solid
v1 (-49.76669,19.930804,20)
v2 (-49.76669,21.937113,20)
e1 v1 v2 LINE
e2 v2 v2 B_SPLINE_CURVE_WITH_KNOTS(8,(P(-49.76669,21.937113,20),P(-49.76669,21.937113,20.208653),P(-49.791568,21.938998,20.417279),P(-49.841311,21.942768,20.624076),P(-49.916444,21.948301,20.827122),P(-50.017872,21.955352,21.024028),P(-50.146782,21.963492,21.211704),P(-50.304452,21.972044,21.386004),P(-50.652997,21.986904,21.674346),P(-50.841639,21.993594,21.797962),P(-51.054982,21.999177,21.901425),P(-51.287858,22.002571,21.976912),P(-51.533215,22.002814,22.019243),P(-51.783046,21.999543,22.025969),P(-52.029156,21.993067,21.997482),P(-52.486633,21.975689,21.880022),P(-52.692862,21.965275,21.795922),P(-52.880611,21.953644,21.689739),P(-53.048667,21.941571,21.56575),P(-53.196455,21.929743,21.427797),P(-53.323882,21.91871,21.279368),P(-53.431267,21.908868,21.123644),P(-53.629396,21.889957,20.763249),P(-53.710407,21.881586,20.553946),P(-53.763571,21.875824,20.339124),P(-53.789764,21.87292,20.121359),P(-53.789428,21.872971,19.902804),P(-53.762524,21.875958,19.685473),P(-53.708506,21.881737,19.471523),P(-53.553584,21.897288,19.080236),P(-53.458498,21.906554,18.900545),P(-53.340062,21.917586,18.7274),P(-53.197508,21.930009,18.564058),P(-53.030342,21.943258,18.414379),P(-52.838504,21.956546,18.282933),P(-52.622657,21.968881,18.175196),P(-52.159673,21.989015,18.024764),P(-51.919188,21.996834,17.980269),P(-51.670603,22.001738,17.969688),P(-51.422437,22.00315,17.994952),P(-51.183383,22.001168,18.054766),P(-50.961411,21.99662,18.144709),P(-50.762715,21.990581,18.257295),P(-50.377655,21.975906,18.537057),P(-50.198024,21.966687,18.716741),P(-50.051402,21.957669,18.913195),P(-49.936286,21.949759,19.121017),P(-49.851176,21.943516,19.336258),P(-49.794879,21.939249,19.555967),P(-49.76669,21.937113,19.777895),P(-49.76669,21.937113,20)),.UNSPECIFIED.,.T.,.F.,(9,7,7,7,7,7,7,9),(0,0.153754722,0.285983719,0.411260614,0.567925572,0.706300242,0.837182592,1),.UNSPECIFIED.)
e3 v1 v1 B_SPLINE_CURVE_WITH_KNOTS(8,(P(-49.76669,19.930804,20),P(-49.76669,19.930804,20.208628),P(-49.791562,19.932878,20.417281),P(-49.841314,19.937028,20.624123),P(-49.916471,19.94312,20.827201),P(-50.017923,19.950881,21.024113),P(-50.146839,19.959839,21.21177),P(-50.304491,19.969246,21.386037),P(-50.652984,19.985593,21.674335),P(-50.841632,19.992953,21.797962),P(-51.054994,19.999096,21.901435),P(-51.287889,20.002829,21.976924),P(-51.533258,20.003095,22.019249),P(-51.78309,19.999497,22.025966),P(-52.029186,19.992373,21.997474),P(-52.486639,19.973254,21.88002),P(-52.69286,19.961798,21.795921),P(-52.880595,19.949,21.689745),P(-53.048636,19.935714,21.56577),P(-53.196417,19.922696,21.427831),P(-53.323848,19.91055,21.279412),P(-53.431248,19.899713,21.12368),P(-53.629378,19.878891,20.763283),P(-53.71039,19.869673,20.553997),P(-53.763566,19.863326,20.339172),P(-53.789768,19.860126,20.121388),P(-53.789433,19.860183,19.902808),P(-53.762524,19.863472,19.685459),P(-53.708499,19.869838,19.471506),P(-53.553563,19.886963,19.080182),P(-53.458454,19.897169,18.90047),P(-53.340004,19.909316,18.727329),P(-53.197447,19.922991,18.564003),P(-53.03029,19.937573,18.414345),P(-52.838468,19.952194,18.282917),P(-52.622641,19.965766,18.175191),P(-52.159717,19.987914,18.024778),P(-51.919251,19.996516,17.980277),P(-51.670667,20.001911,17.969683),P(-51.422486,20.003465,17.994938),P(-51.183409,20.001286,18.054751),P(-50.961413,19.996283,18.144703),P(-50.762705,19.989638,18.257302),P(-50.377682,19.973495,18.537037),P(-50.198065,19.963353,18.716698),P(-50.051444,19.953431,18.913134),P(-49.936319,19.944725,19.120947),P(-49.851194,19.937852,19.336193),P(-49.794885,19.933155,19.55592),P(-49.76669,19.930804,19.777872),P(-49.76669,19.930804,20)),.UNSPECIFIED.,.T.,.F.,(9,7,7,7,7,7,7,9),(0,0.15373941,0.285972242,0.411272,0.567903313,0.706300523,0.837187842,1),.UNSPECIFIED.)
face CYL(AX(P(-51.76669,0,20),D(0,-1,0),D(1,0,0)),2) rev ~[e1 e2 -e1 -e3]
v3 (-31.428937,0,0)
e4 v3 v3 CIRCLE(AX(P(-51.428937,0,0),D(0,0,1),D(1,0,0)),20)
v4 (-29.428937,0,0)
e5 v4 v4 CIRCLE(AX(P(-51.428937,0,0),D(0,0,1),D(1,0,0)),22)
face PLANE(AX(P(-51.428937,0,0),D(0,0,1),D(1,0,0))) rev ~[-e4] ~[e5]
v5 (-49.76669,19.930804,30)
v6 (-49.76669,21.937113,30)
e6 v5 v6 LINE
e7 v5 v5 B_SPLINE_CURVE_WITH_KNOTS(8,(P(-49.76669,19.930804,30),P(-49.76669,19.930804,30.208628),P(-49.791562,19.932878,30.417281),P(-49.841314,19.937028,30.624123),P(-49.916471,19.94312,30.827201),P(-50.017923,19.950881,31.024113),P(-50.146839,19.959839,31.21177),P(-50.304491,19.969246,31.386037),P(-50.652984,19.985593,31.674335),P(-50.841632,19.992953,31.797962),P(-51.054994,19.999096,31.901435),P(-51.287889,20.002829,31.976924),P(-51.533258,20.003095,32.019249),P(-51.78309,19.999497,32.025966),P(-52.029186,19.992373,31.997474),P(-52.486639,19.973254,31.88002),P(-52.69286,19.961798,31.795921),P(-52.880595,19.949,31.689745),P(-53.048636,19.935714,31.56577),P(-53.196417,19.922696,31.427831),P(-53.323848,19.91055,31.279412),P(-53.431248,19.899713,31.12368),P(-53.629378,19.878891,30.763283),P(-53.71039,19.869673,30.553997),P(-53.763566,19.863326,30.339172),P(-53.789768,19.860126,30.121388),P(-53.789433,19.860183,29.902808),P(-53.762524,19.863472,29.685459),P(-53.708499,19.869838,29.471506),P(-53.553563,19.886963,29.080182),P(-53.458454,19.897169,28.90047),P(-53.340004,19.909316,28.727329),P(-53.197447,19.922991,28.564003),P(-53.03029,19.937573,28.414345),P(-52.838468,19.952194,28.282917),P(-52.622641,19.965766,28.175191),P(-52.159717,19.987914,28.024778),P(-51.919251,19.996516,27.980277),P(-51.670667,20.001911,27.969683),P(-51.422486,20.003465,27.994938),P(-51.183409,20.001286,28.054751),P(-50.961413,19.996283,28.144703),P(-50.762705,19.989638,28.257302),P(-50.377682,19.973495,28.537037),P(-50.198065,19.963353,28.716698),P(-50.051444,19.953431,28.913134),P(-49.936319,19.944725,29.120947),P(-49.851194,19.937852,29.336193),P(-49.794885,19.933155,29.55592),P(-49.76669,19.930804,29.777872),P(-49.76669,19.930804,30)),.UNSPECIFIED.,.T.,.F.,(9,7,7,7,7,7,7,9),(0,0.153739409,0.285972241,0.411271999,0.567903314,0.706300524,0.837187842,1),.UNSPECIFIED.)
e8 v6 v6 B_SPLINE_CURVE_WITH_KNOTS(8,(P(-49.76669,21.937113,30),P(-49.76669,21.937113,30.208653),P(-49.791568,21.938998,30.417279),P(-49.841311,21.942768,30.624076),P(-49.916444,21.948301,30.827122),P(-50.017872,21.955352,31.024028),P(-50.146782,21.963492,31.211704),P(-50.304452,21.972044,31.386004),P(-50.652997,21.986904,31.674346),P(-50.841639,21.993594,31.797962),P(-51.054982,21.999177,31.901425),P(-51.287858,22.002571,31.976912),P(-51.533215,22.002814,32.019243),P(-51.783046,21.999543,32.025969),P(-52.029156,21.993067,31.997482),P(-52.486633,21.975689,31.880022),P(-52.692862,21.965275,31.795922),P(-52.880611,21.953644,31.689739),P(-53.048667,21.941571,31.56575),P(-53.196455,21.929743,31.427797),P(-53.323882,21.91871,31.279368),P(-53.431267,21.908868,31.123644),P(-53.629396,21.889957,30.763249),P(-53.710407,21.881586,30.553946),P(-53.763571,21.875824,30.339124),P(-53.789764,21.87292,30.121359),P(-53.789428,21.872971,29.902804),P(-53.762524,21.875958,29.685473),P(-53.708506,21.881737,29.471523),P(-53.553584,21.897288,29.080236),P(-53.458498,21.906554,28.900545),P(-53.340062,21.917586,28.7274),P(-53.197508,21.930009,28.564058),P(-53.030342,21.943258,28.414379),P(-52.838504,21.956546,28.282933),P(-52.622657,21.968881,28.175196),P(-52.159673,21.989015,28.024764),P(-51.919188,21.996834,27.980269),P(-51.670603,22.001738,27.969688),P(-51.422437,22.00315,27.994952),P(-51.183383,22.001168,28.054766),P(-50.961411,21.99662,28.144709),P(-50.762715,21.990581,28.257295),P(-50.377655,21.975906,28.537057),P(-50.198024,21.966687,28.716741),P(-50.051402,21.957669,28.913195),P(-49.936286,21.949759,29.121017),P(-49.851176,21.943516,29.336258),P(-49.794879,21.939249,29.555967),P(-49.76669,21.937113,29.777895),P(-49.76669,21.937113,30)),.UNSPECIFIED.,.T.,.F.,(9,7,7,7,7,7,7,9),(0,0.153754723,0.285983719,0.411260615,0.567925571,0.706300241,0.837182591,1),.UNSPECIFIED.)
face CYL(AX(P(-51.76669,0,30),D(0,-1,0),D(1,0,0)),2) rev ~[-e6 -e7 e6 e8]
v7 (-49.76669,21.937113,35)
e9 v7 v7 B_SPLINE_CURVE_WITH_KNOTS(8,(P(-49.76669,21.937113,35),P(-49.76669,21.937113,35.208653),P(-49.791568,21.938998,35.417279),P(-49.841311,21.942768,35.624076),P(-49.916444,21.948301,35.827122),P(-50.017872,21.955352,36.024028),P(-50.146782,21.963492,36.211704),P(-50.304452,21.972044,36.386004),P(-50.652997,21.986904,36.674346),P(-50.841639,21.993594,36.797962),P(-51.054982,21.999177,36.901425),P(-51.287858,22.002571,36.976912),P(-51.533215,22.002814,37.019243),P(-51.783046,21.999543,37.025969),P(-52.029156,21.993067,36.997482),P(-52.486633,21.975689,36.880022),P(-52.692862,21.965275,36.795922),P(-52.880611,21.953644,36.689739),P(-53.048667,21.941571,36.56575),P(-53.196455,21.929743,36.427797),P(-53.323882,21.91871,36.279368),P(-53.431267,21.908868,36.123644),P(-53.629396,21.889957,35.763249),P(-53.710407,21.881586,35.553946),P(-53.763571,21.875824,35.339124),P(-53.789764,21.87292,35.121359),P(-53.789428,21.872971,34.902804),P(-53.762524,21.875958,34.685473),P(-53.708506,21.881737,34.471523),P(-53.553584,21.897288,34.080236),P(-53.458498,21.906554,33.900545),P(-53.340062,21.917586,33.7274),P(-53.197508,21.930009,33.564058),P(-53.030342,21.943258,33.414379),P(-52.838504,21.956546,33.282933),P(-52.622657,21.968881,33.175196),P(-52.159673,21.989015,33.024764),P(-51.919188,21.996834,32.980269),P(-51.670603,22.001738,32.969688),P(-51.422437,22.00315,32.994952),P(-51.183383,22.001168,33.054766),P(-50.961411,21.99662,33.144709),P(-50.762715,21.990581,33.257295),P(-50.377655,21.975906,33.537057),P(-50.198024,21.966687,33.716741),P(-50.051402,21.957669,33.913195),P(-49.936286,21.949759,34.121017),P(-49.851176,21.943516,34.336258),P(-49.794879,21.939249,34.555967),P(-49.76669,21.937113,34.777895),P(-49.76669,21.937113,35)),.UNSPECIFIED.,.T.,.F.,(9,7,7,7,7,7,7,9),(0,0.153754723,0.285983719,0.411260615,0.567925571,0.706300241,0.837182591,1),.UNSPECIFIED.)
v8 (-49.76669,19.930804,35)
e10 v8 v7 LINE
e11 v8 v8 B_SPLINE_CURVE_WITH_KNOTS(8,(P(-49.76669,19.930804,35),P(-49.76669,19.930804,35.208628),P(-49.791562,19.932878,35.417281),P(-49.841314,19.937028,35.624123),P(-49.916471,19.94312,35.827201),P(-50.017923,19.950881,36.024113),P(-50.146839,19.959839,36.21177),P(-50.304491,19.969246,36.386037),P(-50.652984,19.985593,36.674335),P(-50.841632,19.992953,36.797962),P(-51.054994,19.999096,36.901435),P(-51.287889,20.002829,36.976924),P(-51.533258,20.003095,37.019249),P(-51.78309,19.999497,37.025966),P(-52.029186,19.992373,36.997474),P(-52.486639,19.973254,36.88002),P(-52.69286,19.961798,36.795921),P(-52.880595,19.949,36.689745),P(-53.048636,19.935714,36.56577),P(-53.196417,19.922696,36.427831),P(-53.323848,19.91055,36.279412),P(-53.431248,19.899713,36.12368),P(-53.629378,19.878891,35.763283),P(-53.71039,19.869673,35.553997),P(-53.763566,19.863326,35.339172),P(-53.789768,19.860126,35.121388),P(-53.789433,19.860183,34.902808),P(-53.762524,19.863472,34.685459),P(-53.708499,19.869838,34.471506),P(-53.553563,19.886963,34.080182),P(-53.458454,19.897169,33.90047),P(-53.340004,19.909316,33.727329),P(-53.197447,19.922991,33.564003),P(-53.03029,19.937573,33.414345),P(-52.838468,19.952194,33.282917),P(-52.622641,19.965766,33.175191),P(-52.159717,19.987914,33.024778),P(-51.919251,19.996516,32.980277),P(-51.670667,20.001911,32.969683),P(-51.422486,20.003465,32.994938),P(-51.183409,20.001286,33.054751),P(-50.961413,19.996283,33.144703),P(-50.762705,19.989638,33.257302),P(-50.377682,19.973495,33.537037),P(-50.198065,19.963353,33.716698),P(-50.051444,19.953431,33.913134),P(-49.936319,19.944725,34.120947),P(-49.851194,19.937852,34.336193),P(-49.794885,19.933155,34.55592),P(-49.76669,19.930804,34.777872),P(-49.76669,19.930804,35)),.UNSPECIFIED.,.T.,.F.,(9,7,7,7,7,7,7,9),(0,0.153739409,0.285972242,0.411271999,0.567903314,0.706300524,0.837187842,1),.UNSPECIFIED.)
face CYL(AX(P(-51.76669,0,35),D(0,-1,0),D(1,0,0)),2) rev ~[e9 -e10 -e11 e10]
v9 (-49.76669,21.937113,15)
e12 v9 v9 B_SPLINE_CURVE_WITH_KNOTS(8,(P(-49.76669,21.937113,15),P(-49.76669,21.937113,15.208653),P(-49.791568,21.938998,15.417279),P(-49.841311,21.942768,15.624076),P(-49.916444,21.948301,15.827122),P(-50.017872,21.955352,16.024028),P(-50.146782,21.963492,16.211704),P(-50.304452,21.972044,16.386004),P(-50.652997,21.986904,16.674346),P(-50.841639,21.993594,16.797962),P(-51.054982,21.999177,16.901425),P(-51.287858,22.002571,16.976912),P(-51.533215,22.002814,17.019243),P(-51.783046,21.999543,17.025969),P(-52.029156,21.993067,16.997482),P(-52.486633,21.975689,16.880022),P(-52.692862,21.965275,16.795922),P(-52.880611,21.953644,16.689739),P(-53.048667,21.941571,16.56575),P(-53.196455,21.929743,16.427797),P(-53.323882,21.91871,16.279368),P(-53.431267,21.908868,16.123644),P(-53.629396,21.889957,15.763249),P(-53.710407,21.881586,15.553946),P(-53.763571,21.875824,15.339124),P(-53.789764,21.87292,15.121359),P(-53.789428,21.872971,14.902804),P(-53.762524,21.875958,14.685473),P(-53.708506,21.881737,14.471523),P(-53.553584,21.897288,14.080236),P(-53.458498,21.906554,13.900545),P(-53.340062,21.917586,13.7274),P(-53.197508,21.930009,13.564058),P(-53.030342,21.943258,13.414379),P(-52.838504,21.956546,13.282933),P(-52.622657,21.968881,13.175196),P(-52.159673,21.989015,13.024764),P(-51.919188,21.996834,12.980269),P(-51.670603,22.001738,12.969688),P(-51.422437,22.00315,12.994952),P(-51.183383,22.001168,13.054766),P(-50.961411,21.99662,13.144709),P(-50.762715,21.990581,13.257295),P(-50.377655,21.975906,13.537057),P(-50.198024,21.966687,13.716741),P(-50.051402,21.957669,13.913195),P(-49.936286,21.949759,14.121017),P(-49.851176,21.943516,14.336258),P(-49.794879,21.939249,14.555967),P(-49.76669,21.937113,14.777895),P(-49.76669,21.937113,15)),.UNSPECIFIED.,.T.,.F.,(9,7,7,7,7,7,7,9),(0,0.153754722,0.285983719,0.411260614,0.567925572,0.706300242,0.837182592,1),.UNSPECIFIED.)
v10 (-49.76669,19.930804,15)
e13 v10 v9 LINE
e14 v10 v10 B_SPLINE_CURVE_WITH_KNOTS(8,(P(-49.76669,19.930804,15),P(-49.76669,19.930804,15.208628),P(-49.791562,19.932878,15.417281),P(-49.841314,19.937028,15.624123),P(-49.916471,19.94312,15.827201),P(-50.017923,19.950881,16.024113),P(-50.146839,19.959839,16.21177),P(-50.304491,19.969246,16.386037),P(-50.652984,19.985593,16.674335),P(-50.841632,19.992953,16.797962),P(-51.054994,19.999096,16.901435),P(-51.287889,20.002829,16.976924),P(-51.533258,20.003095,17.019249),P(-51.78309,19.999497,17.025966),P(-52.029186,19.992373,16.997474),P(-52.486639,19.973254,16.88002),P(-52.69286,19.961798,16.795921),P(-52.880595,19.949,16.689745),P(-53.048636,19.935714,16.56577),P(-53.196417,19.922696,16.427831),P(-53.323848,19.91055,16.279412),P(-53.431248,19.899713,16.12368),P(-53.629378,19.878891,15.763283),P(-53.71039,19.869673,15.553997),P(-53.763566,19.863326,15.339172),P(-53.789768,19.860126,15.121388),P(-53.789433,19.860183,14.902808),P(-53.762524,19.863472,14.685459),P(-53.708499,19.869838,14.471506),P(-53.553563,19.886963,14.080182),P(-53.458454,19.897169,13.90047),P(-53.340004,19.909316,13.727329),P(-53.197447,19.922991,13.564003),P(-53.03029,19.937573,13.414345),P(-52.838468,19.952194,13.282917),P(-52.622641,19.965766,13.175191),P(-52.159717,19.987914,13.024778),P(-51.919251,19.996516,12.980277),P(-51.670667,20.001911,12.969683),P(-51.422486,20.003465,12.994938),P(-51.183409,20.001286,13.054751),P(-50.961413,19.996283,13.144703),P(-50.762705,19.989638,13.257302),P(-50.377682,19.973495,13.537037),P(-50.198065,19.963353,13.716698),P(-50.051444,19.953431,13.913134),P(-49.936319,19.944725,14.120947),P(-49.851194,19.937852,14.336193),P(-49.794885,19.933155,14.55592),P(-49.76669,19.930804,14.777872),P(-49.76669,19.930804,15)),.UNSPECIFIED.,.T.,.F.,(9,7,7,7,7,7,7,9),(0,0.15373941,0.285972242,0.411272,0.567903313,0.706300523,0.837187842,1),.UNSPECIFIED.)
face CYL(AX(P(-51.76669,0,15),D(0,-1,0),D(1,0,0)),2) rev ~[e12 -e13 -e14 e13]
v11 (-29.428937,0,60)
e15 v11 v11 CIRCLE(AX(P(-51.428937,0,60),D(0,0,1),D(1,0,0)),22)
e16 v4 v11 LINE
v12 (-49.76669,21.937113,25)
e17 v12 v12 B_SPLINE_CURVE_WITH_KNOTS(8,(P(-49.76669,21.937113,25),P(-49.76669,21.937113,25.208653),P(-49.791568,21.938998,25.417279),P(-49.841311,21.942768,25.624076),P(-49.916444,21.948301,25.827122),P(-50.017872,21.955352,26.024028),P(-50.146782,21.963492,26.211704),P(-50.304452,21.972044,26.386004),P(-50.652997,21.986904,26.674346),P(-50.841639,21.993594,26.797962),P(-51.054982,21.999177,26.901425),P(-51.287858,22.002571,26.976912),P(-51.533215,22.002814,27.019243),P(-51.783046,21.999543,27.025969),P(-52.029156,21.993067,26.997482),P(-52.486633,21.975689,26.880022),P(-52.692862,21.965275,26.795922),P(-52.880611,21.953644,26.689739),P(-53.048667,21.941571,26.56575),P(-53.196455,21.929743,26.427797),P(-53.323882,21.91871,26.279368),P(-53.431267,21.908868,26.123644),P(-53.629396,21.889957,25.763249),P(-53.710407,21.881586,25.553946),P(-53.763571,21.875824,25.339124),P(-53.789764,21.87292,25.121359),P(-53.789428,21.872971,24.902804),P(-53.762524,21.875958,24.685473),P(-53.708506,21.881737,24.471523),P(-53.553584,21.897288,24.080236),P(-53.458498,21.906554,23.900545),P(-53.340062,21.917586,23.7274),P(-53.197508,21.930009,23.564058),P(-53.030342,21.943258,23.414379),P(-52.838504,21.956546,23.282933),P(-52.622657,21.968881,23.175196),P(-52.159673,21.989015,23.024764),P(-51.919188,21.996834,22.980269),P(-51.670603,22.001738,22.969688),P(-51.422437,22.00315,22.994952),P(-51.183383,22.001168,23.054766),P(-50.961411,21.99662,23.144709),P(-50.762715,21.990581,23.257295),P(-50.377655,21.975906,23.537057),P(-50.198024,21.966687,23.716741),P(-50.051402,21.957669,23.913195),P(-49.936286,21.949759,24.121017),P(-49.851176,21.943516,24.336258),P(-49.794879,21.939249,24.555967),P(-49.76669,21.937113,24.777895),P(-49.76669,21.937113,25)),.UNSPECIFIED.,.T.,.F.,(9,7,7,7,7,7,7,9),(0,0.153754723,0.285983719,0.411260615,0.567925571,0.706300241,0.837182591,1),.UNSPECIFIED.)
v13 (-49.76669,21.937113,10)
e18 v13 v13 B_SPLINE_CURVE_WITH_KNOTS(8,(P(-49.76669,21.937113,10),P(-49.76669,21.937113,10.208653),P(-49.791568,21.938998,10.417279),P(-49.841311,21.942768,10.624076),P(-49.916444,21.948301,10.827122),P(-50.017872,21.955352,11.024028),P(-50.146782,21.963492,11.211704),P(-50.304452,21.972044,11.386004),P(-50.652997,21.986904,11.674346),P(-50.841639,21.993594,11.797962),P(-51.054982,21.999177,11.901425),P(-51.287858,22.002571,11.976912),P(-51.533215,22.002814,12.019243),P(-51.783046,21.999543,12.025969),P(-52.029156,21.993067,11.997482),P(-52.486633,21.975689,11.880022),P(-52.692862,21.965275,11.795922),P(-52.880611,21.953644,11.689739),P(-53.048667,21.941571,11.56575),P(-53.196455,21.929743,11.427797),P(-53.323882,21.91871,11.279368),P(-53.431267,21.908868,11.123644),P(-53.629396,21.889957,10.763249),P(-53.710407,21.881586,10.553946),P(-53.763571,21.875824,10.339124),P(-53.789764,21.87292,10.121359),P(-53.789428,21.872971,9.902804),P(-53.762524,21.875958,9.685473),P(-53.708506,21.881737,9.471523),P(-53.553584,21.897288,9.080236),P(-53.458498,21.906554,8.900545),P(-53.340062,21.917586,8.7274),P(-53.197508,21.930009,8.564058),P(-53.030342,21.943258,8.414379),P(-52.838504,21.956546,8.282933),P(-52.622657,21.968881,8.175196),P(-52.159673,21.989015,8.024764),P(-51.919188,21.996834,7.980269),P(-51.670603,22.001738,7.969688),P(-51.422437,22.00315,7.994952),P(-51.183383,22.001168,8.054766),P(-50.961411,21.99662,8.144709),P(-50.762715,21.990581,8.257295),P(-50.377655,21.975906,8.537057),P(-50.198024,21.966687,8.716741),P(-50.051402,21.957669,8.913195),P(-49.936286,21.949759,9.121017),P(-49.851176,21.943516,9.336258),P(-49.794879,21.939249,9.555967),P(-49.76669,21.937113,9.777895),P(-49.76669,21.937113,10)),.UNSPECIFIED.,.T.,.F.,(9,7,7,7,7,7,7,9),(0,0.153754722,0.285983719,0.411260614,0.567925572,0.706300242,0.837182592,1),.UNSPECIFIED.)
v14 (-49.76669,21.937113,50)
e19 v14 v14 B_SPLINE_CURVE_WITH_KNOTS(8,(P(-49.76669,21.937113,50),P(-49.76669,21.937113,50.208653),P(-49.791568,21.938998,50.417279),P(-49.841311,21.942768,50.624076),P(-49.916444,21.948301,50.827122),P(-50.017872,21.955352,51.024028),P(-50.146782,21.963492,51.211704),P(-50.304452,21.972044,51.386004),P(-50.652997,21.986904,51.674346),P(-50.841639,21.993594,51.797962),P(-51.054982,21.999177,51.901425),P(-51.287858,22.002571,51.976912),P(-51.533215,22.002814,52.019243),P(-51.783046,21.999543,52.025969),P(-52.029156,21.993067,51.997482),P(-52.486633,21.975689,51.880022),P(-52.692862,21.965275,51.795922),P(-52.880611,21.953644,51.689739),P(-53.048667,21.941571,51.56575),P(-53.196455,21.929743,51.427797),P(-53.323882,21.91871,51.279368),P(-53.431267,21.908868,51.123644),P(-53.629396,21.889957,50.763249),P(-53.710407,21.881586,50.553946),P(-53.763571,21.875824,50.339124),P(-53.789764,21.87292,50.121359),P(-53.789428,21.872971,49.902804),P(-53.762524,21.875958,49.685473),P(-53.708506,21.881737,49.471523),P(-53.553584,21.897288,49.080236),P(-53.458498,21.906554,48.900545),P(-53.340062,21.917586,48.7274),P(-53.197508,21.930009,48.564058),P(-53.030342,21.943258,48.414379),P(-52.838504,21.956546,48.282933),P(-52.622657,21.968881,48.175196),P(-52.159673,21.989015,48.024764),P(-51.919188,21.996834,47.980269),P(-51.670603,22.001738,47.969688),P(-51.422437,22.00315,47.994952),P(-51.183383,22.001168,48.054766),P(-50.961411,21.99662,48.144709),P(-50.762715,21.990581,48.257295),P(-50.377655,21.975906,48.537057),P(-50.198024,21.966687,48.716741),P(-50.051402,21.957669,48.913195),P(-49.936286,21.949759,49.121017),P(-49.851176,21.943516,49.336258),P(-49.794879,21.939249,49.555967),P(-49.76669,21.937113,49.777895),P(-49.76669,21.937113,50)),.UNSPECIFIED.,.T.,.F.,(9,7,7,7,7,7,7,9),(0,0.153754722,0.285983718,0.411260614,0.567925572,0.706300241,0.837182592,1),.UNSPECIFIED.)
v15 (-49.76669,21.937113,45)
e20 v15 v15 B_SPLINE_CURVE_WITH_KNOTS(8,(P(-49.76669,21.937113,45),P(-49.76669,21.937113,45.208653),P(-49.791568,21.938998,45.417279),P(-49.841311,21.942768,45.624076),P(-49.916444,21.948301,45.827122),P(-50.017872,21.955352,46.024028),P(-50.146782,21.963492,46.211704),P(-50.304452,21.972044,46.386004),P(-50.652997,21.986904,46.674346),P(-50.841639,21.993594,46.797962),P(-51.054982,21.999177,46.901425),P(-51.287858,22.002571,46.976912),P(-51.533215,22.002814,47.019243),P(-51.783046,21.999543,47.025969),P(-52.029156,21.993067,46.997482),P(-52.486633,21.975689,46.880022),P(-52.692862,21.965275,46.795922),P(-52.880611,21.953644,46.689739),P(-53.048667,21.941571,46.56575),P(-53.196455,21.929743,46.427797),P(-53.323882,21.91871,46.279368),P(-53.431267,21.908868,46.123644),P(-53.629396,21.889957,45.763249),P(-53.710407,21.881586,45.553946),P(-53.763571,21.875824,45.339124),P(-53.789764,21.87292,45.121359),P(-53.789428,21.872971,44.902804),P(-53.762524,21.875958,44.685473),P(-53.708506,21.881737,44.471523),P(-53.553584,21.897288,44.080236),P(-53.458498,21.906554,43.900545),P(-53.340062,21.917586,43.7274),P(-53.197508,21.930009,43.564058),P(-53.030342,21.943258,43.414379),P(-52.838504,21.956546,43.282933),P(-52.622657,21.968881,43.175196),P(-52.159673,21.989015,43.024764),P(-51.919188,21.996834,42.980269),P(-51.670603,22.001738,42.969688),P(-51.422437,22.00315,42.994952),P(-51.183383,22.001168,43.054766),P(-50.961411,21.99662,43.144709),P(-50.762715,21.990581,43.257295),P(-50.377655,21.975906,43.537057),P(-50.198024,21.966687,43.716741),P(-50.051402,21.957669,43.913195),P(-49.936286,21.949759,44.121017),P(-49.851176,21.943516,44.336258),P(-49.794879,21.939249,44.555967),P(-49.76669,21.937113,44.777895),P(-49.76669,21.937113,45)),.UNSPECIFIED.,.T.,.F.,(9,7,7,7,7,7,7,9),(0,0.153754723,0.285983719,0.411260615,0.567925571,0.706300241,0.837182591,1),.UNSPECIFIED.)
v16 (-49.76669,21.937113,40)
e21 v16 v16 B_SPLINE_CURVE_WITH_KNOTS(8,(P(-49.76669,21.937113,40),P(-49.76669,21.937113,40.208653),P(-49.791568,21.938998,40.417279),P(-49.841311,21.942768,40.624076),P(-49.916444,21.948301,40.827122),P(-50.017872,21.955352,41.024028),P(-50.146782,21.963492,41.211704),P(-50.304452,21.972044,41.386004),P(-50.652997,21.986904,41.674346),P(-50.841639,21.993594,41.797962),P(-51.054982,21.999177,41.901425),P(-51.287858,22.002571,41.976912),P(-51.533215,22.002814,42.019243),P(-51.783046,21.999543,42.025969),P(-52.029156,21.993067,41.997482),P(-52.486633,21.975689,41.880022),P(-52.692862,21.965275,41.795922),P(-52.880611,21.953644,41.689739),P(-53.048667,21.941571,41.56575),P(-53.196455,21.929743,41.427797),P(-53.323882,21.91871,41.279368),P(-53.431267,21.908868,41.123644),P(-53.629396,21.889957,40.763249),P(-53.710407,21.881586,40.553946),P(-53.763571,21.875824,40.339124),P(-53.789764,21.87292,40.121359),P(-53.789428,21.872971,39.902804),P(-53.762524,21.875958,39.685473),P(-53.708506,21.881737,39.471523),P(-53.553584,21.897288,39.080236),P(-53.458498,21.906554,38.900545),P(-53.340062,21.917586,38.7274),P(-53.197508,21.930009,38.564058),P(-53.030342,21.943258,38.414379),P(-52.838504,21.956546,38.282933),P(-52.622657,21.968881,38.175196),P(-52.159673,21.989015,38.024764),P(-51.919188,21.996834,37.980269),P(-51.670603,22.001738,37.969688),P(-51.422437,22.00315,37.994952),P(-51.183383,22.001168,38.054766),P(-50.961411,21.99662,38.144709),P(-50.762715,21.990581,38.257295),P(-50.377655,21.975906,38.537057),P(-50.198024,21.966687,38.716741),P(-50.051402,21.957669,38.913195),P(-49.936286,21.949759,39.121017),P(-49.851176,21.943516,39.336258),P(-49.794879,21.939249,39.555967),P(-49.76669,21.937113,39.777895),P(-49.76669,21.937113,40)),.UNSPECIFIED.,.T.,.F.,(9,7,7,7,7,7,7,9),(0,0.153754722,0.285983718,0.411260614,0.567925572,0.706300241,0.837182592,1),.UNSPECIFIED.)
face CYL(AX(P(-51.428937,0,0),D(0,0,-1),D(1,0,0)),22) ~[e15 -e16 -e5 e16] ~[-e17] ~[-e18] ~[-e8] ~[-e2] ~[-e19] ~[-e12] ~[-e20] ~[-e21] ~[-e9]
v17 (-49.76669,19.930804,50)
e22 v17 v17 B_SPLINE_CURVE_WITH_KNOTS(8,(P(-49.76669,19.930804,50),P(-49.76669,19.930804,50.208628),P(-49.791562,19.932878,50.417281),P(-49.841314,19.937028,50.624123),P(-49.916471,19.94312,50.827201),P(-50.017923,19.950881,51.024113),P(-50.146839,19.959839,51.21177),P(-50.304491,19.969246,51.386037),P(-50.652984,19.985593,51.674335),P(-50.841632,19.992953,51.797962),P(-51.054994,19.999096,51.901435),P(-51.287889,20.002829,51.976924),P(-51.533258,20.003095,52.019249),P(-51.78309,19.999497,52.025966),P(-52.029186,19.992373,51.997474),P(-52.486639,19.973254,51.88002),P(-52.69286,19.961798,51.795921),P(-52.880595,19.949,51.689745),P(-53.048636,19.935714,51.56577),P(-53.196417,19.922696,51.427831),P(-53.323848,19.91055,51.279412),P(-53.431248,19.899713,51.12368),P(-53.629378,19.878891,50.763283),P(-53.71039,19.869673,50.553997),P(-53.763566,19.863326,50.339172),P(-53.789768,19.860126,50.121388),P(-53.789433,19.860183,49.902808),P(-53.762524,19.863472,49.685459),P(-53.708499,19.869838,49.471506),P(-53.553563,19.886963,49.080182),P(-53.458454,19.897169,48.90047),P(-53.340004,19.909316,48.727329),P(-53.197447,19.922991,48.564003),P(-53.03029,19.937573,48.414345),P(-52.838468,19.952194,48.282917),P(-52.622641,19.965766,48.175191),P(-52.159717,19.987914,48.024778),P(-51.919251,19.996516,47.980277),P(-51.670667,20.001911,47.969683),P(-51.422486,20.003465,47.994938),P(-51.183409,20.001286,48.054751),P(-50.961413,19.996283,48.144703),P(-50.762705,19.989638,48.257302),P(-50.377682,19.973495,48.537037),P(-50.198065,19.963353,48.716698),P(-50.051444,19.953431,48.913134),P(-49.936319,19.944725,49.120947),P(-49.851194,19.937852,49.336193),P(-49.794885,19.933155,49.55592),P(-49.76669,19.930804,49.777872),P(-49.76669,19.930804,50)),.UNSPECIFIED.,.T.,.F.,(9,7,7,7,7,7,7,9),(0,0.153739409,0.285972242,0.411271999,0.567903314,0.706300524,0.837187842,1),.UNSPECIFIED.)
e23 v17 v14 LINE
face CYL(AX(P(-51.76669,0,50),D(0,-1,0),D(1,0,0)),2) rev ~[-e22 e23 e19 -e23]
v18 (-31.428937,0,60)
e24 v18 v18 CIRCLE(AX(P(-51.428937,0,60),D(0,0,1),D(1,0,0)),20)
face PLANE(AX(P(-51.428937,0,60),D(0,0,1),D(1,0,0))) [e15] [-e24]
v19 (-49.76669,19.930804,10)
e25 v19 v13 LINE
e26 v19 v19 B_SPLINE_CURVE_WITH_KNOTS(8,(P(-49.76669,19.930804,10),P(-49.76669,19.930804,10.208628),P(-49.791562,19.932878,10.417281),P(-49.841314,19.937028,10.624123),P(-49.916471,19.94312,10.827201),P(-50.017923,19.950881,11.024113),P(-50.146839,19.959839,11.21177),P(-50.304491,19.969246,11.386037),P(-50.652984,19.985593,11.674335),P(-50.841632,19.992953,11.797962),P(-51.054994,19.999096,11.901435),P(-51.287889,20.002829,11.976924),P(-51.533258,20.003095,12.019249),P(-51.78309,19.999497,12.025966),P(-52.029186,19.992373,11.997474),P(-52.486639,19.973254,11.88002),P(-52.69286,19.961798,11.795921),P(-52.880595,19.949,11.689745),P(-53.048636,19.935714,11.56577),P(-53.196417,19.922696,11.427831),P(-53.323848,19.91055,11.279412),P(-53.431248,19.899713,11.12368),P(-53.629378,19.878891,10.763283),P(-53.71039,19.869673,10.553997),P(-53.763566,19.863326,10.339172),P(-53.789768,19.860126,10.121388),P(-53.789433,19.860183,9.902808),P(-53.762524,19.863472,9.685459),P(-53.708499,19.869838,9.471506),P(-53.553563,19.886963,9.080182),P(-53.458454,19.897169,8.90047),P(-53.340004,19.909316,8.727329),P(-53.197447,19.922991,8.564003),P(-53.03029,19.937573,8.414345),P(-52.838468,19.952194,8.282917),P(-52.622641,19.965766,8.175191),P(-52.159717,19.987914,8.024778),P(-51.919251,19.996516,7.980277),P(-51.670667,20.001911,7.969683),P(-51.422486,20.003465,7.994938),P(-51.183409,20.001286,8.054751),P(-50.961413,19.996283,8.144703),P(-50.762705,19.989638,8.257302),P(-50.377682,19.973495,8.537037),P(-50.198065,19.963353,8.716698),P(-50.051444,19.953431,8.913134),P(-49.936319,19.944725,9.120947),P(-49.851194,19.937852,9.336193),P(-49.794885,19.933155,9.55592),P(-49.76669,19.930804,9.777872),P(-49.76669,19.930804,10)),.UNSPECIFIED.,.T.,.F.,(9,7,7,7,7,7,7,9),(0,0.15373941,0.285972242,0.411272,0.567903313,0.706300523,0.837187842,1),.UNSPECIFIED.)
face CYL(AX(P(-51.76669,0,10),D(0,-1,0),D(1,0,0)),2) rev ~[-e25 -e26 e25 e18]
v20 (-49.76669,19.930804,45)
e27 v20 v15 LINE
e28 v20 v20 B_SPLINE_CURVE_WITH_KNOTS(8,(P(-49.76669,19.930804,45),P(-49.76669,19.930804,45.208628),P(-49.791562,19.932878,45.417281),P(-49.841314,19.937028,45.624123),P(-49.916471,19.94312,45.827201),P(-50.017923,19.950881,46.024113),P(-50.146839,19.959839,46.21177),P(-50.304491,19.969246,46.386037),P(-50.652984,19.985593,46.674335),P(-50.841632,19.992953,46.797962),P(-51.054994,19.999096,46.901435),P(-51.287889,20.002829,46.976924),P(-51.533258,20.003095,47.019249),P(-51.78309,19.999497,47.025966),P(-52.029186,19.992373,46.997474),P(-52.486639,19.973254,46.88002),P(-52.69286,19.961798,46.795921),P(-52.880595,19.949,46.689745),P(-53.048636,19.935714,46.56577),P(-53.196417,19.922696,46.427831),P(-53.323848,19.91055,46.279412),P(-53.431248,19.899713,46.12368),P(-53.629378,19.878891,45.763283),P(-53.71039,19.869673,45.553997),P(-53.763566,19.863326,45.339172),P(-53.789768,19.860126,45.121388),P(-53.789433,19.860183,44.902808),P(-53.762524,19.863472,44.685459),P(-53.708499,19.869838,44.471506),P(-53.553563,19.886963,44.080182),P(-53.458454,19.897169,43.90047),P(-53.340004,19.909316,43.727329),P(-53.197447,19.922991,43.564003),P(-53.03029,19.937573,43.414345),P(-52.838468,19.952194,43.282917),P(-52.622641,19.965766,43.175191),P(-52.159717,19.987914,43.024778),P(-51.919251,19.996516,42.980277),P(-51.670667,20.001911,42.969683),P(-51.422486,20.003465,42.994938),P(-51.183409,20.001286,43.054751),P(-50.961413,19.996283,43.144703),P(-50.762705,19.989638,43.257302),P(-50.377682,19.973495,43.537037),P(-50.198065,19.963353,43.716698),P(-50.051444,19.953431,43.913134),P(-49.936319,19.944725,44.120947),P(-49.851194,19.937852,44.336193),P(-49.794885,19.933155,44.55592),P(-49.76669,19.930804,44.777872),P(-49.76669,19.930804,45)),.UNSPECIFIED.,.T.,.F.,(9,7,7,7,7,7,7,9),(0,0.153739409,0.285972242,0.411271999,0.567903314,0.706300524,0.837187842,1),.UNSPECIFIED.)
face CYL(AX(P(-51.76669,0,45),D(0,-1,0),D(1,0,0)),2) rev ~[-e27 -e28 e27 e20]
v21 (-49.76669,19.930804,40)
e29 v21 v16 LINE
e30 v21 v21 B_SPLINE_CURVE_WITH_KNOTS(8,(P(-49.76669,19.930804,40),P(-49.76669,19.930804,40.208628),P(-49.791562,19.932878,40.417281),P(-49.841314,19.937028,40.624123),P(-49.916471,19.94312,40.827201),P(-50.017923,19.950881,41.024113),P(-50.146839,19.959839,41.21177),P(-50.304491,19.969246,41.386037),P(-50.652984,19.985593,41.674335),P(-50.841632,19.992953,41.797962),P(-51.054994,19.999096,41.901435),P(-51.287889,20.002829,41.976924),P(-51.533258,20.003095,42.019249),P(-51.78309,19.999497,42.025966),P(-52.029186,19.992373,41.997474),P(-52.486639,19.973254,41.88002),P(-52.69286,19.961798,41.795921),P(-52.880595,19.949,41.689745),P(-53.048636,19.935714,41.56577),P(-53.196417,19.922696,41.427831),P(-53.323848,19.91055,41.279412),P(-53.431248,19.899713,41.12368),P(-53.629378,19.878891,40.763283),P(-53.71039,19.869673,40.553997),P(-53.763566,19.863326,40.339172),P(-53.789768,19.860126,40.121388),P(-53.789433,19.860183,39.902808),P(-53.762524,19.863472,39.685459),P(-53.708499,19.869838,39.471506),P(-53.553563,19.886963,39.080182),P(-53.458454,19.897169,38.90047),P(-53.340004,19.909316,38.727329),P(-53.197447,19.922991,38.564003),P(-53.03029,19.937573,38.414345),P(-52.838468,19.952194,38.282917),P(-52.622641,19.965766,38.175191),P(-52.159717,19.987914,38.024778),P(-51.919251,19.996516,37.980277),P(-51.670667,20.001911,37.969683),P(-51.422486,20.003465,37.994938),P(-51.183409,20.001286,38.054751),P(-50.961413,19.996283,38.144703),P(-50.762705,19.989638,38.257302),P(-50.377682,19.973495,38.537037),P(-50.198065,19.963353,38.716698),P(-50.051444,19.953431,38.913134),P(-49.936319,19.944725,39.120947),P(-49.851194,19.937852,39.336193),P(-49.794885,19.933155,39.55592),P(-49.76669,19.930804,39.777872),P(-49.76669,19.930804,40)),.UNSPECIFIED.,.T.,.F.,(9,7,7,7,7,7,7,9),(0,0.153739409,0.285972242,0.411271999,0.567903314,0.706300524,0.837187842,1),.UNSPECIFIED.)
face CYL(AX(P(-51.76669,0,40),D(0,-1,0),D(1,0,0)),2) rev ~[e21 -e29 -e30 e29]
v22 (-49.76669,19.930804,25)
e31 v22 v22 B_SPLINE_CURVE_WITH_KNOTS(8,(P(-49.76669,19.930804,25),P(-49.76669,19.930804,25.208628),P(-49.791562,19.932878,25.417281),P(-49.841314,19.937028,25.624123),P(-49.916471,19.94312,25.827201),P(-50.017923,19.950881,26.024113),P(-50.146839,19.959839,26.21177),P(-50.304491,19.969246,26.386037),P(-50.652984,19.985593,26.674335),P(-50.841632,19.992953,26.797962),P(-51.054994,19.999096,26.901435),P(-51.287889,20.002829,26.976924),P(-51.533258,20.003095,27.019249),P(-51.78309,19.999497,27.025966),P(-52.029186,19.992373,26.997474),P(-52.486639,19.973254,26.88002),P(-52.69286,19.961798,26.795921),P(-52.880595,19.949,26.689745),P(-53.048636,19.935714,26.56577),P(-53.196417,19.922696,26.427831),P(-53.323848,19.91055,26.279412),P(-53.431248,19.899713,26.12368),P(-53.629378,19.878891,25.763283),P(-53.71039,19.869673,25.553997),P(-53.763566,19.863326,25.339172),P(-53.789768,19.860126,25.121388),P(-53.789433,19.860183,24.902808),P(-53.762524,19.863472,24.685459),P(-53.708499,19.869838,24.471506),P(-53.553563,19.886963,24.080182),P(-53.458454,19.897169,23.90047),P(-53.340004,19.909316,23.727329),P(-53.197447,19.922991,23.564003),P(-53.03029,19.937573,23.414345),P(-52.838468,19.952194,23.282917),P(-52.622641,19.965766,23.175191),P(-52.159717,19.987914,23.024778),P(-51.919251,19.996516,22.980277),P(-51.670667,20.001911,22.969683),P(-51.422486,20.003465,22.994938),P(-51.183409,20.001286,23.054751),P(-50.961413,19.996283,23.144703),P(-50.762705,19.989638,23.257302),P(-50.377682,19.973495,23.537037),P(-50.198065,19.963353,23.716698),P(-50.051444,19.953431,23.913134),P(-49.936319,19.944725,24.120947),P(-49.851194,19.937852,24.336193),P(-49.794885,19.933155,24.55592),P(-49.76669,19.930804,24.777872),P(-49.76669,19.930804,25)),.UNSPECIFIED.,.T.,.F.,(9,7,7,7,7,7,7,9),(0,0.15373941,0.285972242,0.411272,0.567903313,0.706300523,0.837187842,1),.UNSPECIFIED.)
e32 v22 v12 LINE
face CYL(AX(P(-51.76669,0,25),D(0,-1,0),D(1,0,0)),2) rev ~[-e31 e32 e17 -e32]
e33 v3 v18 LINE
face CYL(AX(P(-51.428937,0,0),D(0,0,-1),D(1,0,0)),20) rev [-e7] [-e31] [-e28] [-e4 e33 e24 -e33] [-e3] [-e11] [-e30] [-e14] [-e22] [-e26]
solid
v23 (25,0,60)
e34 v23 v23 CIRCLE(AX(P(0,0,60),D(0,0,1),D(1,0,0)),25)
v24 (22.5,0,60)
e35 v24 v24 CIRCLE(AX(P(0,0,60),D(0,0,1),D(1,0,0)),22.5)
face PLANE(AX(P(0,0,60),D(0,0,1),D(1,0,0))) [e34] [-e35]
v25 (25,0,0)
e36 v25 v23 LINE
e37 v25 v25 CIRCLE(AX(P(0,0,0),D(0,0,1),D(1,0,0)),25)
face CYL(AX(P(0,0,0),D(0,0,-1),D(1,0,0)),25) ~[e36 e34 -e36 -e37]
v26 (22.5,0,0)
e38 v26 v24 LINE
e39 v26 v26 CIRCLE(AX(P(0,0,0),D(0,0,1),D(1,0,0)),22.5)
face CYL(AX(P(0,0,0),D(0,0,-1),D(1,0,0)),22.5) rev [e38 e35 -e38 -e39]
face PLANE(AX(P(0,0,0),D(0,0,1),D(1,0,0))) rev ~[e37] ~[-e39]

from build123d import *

# Parameters (mm, degrees)
F0_R     = 25
F0_R_2   = 22.5
F1_DEPTH = 60
F2_R     = 22
F2_R_2   = 20
F3_DEPTH = 60
F5_D     = 4
F5_DEPTH = 22.001


with BuildPart() as f1:
    # F0 (on Top) → F1 (new body)
    with BuildSketch(Plane.XY):
        Circle(F0_R)
        Circle(F0_R_2, mode=Mode.SUBTRACT)
    extrude(amount=F1_DEPTH)


with BuildPart() as f3:
    # F2 (on Top) → F3 (new body)
    with BuildSketch(Plane.XY):
        with Locations((-51.4289374806, 0)):
            Circle(F2_R)
        with Locations((-51.4289374806, 0)):
            Circle(F2_R_2, mode=Mode.SUBTRACT)
    extrude(amount=F3_DEPTH)

    # F5 (through all, one way)
    with BuildSketch(Plane.XZ):
        with Locations((-51.7666899301, 50), (-51.7666899301, 45), (-51.7666899301, 40), (-51.7666899301, 35), (-51.7666899301, 30), (-51.7666899301, 25), (-51.7666899301, 20), (-51.7666899301, 15), (-51.7666899301, 10)):
            Circle(F5_D / 2)
    extrude(amount=-F5_DEPTH, mode=Mode.SUBTRACT)


solid = Compound([f1.part, f3.part])
